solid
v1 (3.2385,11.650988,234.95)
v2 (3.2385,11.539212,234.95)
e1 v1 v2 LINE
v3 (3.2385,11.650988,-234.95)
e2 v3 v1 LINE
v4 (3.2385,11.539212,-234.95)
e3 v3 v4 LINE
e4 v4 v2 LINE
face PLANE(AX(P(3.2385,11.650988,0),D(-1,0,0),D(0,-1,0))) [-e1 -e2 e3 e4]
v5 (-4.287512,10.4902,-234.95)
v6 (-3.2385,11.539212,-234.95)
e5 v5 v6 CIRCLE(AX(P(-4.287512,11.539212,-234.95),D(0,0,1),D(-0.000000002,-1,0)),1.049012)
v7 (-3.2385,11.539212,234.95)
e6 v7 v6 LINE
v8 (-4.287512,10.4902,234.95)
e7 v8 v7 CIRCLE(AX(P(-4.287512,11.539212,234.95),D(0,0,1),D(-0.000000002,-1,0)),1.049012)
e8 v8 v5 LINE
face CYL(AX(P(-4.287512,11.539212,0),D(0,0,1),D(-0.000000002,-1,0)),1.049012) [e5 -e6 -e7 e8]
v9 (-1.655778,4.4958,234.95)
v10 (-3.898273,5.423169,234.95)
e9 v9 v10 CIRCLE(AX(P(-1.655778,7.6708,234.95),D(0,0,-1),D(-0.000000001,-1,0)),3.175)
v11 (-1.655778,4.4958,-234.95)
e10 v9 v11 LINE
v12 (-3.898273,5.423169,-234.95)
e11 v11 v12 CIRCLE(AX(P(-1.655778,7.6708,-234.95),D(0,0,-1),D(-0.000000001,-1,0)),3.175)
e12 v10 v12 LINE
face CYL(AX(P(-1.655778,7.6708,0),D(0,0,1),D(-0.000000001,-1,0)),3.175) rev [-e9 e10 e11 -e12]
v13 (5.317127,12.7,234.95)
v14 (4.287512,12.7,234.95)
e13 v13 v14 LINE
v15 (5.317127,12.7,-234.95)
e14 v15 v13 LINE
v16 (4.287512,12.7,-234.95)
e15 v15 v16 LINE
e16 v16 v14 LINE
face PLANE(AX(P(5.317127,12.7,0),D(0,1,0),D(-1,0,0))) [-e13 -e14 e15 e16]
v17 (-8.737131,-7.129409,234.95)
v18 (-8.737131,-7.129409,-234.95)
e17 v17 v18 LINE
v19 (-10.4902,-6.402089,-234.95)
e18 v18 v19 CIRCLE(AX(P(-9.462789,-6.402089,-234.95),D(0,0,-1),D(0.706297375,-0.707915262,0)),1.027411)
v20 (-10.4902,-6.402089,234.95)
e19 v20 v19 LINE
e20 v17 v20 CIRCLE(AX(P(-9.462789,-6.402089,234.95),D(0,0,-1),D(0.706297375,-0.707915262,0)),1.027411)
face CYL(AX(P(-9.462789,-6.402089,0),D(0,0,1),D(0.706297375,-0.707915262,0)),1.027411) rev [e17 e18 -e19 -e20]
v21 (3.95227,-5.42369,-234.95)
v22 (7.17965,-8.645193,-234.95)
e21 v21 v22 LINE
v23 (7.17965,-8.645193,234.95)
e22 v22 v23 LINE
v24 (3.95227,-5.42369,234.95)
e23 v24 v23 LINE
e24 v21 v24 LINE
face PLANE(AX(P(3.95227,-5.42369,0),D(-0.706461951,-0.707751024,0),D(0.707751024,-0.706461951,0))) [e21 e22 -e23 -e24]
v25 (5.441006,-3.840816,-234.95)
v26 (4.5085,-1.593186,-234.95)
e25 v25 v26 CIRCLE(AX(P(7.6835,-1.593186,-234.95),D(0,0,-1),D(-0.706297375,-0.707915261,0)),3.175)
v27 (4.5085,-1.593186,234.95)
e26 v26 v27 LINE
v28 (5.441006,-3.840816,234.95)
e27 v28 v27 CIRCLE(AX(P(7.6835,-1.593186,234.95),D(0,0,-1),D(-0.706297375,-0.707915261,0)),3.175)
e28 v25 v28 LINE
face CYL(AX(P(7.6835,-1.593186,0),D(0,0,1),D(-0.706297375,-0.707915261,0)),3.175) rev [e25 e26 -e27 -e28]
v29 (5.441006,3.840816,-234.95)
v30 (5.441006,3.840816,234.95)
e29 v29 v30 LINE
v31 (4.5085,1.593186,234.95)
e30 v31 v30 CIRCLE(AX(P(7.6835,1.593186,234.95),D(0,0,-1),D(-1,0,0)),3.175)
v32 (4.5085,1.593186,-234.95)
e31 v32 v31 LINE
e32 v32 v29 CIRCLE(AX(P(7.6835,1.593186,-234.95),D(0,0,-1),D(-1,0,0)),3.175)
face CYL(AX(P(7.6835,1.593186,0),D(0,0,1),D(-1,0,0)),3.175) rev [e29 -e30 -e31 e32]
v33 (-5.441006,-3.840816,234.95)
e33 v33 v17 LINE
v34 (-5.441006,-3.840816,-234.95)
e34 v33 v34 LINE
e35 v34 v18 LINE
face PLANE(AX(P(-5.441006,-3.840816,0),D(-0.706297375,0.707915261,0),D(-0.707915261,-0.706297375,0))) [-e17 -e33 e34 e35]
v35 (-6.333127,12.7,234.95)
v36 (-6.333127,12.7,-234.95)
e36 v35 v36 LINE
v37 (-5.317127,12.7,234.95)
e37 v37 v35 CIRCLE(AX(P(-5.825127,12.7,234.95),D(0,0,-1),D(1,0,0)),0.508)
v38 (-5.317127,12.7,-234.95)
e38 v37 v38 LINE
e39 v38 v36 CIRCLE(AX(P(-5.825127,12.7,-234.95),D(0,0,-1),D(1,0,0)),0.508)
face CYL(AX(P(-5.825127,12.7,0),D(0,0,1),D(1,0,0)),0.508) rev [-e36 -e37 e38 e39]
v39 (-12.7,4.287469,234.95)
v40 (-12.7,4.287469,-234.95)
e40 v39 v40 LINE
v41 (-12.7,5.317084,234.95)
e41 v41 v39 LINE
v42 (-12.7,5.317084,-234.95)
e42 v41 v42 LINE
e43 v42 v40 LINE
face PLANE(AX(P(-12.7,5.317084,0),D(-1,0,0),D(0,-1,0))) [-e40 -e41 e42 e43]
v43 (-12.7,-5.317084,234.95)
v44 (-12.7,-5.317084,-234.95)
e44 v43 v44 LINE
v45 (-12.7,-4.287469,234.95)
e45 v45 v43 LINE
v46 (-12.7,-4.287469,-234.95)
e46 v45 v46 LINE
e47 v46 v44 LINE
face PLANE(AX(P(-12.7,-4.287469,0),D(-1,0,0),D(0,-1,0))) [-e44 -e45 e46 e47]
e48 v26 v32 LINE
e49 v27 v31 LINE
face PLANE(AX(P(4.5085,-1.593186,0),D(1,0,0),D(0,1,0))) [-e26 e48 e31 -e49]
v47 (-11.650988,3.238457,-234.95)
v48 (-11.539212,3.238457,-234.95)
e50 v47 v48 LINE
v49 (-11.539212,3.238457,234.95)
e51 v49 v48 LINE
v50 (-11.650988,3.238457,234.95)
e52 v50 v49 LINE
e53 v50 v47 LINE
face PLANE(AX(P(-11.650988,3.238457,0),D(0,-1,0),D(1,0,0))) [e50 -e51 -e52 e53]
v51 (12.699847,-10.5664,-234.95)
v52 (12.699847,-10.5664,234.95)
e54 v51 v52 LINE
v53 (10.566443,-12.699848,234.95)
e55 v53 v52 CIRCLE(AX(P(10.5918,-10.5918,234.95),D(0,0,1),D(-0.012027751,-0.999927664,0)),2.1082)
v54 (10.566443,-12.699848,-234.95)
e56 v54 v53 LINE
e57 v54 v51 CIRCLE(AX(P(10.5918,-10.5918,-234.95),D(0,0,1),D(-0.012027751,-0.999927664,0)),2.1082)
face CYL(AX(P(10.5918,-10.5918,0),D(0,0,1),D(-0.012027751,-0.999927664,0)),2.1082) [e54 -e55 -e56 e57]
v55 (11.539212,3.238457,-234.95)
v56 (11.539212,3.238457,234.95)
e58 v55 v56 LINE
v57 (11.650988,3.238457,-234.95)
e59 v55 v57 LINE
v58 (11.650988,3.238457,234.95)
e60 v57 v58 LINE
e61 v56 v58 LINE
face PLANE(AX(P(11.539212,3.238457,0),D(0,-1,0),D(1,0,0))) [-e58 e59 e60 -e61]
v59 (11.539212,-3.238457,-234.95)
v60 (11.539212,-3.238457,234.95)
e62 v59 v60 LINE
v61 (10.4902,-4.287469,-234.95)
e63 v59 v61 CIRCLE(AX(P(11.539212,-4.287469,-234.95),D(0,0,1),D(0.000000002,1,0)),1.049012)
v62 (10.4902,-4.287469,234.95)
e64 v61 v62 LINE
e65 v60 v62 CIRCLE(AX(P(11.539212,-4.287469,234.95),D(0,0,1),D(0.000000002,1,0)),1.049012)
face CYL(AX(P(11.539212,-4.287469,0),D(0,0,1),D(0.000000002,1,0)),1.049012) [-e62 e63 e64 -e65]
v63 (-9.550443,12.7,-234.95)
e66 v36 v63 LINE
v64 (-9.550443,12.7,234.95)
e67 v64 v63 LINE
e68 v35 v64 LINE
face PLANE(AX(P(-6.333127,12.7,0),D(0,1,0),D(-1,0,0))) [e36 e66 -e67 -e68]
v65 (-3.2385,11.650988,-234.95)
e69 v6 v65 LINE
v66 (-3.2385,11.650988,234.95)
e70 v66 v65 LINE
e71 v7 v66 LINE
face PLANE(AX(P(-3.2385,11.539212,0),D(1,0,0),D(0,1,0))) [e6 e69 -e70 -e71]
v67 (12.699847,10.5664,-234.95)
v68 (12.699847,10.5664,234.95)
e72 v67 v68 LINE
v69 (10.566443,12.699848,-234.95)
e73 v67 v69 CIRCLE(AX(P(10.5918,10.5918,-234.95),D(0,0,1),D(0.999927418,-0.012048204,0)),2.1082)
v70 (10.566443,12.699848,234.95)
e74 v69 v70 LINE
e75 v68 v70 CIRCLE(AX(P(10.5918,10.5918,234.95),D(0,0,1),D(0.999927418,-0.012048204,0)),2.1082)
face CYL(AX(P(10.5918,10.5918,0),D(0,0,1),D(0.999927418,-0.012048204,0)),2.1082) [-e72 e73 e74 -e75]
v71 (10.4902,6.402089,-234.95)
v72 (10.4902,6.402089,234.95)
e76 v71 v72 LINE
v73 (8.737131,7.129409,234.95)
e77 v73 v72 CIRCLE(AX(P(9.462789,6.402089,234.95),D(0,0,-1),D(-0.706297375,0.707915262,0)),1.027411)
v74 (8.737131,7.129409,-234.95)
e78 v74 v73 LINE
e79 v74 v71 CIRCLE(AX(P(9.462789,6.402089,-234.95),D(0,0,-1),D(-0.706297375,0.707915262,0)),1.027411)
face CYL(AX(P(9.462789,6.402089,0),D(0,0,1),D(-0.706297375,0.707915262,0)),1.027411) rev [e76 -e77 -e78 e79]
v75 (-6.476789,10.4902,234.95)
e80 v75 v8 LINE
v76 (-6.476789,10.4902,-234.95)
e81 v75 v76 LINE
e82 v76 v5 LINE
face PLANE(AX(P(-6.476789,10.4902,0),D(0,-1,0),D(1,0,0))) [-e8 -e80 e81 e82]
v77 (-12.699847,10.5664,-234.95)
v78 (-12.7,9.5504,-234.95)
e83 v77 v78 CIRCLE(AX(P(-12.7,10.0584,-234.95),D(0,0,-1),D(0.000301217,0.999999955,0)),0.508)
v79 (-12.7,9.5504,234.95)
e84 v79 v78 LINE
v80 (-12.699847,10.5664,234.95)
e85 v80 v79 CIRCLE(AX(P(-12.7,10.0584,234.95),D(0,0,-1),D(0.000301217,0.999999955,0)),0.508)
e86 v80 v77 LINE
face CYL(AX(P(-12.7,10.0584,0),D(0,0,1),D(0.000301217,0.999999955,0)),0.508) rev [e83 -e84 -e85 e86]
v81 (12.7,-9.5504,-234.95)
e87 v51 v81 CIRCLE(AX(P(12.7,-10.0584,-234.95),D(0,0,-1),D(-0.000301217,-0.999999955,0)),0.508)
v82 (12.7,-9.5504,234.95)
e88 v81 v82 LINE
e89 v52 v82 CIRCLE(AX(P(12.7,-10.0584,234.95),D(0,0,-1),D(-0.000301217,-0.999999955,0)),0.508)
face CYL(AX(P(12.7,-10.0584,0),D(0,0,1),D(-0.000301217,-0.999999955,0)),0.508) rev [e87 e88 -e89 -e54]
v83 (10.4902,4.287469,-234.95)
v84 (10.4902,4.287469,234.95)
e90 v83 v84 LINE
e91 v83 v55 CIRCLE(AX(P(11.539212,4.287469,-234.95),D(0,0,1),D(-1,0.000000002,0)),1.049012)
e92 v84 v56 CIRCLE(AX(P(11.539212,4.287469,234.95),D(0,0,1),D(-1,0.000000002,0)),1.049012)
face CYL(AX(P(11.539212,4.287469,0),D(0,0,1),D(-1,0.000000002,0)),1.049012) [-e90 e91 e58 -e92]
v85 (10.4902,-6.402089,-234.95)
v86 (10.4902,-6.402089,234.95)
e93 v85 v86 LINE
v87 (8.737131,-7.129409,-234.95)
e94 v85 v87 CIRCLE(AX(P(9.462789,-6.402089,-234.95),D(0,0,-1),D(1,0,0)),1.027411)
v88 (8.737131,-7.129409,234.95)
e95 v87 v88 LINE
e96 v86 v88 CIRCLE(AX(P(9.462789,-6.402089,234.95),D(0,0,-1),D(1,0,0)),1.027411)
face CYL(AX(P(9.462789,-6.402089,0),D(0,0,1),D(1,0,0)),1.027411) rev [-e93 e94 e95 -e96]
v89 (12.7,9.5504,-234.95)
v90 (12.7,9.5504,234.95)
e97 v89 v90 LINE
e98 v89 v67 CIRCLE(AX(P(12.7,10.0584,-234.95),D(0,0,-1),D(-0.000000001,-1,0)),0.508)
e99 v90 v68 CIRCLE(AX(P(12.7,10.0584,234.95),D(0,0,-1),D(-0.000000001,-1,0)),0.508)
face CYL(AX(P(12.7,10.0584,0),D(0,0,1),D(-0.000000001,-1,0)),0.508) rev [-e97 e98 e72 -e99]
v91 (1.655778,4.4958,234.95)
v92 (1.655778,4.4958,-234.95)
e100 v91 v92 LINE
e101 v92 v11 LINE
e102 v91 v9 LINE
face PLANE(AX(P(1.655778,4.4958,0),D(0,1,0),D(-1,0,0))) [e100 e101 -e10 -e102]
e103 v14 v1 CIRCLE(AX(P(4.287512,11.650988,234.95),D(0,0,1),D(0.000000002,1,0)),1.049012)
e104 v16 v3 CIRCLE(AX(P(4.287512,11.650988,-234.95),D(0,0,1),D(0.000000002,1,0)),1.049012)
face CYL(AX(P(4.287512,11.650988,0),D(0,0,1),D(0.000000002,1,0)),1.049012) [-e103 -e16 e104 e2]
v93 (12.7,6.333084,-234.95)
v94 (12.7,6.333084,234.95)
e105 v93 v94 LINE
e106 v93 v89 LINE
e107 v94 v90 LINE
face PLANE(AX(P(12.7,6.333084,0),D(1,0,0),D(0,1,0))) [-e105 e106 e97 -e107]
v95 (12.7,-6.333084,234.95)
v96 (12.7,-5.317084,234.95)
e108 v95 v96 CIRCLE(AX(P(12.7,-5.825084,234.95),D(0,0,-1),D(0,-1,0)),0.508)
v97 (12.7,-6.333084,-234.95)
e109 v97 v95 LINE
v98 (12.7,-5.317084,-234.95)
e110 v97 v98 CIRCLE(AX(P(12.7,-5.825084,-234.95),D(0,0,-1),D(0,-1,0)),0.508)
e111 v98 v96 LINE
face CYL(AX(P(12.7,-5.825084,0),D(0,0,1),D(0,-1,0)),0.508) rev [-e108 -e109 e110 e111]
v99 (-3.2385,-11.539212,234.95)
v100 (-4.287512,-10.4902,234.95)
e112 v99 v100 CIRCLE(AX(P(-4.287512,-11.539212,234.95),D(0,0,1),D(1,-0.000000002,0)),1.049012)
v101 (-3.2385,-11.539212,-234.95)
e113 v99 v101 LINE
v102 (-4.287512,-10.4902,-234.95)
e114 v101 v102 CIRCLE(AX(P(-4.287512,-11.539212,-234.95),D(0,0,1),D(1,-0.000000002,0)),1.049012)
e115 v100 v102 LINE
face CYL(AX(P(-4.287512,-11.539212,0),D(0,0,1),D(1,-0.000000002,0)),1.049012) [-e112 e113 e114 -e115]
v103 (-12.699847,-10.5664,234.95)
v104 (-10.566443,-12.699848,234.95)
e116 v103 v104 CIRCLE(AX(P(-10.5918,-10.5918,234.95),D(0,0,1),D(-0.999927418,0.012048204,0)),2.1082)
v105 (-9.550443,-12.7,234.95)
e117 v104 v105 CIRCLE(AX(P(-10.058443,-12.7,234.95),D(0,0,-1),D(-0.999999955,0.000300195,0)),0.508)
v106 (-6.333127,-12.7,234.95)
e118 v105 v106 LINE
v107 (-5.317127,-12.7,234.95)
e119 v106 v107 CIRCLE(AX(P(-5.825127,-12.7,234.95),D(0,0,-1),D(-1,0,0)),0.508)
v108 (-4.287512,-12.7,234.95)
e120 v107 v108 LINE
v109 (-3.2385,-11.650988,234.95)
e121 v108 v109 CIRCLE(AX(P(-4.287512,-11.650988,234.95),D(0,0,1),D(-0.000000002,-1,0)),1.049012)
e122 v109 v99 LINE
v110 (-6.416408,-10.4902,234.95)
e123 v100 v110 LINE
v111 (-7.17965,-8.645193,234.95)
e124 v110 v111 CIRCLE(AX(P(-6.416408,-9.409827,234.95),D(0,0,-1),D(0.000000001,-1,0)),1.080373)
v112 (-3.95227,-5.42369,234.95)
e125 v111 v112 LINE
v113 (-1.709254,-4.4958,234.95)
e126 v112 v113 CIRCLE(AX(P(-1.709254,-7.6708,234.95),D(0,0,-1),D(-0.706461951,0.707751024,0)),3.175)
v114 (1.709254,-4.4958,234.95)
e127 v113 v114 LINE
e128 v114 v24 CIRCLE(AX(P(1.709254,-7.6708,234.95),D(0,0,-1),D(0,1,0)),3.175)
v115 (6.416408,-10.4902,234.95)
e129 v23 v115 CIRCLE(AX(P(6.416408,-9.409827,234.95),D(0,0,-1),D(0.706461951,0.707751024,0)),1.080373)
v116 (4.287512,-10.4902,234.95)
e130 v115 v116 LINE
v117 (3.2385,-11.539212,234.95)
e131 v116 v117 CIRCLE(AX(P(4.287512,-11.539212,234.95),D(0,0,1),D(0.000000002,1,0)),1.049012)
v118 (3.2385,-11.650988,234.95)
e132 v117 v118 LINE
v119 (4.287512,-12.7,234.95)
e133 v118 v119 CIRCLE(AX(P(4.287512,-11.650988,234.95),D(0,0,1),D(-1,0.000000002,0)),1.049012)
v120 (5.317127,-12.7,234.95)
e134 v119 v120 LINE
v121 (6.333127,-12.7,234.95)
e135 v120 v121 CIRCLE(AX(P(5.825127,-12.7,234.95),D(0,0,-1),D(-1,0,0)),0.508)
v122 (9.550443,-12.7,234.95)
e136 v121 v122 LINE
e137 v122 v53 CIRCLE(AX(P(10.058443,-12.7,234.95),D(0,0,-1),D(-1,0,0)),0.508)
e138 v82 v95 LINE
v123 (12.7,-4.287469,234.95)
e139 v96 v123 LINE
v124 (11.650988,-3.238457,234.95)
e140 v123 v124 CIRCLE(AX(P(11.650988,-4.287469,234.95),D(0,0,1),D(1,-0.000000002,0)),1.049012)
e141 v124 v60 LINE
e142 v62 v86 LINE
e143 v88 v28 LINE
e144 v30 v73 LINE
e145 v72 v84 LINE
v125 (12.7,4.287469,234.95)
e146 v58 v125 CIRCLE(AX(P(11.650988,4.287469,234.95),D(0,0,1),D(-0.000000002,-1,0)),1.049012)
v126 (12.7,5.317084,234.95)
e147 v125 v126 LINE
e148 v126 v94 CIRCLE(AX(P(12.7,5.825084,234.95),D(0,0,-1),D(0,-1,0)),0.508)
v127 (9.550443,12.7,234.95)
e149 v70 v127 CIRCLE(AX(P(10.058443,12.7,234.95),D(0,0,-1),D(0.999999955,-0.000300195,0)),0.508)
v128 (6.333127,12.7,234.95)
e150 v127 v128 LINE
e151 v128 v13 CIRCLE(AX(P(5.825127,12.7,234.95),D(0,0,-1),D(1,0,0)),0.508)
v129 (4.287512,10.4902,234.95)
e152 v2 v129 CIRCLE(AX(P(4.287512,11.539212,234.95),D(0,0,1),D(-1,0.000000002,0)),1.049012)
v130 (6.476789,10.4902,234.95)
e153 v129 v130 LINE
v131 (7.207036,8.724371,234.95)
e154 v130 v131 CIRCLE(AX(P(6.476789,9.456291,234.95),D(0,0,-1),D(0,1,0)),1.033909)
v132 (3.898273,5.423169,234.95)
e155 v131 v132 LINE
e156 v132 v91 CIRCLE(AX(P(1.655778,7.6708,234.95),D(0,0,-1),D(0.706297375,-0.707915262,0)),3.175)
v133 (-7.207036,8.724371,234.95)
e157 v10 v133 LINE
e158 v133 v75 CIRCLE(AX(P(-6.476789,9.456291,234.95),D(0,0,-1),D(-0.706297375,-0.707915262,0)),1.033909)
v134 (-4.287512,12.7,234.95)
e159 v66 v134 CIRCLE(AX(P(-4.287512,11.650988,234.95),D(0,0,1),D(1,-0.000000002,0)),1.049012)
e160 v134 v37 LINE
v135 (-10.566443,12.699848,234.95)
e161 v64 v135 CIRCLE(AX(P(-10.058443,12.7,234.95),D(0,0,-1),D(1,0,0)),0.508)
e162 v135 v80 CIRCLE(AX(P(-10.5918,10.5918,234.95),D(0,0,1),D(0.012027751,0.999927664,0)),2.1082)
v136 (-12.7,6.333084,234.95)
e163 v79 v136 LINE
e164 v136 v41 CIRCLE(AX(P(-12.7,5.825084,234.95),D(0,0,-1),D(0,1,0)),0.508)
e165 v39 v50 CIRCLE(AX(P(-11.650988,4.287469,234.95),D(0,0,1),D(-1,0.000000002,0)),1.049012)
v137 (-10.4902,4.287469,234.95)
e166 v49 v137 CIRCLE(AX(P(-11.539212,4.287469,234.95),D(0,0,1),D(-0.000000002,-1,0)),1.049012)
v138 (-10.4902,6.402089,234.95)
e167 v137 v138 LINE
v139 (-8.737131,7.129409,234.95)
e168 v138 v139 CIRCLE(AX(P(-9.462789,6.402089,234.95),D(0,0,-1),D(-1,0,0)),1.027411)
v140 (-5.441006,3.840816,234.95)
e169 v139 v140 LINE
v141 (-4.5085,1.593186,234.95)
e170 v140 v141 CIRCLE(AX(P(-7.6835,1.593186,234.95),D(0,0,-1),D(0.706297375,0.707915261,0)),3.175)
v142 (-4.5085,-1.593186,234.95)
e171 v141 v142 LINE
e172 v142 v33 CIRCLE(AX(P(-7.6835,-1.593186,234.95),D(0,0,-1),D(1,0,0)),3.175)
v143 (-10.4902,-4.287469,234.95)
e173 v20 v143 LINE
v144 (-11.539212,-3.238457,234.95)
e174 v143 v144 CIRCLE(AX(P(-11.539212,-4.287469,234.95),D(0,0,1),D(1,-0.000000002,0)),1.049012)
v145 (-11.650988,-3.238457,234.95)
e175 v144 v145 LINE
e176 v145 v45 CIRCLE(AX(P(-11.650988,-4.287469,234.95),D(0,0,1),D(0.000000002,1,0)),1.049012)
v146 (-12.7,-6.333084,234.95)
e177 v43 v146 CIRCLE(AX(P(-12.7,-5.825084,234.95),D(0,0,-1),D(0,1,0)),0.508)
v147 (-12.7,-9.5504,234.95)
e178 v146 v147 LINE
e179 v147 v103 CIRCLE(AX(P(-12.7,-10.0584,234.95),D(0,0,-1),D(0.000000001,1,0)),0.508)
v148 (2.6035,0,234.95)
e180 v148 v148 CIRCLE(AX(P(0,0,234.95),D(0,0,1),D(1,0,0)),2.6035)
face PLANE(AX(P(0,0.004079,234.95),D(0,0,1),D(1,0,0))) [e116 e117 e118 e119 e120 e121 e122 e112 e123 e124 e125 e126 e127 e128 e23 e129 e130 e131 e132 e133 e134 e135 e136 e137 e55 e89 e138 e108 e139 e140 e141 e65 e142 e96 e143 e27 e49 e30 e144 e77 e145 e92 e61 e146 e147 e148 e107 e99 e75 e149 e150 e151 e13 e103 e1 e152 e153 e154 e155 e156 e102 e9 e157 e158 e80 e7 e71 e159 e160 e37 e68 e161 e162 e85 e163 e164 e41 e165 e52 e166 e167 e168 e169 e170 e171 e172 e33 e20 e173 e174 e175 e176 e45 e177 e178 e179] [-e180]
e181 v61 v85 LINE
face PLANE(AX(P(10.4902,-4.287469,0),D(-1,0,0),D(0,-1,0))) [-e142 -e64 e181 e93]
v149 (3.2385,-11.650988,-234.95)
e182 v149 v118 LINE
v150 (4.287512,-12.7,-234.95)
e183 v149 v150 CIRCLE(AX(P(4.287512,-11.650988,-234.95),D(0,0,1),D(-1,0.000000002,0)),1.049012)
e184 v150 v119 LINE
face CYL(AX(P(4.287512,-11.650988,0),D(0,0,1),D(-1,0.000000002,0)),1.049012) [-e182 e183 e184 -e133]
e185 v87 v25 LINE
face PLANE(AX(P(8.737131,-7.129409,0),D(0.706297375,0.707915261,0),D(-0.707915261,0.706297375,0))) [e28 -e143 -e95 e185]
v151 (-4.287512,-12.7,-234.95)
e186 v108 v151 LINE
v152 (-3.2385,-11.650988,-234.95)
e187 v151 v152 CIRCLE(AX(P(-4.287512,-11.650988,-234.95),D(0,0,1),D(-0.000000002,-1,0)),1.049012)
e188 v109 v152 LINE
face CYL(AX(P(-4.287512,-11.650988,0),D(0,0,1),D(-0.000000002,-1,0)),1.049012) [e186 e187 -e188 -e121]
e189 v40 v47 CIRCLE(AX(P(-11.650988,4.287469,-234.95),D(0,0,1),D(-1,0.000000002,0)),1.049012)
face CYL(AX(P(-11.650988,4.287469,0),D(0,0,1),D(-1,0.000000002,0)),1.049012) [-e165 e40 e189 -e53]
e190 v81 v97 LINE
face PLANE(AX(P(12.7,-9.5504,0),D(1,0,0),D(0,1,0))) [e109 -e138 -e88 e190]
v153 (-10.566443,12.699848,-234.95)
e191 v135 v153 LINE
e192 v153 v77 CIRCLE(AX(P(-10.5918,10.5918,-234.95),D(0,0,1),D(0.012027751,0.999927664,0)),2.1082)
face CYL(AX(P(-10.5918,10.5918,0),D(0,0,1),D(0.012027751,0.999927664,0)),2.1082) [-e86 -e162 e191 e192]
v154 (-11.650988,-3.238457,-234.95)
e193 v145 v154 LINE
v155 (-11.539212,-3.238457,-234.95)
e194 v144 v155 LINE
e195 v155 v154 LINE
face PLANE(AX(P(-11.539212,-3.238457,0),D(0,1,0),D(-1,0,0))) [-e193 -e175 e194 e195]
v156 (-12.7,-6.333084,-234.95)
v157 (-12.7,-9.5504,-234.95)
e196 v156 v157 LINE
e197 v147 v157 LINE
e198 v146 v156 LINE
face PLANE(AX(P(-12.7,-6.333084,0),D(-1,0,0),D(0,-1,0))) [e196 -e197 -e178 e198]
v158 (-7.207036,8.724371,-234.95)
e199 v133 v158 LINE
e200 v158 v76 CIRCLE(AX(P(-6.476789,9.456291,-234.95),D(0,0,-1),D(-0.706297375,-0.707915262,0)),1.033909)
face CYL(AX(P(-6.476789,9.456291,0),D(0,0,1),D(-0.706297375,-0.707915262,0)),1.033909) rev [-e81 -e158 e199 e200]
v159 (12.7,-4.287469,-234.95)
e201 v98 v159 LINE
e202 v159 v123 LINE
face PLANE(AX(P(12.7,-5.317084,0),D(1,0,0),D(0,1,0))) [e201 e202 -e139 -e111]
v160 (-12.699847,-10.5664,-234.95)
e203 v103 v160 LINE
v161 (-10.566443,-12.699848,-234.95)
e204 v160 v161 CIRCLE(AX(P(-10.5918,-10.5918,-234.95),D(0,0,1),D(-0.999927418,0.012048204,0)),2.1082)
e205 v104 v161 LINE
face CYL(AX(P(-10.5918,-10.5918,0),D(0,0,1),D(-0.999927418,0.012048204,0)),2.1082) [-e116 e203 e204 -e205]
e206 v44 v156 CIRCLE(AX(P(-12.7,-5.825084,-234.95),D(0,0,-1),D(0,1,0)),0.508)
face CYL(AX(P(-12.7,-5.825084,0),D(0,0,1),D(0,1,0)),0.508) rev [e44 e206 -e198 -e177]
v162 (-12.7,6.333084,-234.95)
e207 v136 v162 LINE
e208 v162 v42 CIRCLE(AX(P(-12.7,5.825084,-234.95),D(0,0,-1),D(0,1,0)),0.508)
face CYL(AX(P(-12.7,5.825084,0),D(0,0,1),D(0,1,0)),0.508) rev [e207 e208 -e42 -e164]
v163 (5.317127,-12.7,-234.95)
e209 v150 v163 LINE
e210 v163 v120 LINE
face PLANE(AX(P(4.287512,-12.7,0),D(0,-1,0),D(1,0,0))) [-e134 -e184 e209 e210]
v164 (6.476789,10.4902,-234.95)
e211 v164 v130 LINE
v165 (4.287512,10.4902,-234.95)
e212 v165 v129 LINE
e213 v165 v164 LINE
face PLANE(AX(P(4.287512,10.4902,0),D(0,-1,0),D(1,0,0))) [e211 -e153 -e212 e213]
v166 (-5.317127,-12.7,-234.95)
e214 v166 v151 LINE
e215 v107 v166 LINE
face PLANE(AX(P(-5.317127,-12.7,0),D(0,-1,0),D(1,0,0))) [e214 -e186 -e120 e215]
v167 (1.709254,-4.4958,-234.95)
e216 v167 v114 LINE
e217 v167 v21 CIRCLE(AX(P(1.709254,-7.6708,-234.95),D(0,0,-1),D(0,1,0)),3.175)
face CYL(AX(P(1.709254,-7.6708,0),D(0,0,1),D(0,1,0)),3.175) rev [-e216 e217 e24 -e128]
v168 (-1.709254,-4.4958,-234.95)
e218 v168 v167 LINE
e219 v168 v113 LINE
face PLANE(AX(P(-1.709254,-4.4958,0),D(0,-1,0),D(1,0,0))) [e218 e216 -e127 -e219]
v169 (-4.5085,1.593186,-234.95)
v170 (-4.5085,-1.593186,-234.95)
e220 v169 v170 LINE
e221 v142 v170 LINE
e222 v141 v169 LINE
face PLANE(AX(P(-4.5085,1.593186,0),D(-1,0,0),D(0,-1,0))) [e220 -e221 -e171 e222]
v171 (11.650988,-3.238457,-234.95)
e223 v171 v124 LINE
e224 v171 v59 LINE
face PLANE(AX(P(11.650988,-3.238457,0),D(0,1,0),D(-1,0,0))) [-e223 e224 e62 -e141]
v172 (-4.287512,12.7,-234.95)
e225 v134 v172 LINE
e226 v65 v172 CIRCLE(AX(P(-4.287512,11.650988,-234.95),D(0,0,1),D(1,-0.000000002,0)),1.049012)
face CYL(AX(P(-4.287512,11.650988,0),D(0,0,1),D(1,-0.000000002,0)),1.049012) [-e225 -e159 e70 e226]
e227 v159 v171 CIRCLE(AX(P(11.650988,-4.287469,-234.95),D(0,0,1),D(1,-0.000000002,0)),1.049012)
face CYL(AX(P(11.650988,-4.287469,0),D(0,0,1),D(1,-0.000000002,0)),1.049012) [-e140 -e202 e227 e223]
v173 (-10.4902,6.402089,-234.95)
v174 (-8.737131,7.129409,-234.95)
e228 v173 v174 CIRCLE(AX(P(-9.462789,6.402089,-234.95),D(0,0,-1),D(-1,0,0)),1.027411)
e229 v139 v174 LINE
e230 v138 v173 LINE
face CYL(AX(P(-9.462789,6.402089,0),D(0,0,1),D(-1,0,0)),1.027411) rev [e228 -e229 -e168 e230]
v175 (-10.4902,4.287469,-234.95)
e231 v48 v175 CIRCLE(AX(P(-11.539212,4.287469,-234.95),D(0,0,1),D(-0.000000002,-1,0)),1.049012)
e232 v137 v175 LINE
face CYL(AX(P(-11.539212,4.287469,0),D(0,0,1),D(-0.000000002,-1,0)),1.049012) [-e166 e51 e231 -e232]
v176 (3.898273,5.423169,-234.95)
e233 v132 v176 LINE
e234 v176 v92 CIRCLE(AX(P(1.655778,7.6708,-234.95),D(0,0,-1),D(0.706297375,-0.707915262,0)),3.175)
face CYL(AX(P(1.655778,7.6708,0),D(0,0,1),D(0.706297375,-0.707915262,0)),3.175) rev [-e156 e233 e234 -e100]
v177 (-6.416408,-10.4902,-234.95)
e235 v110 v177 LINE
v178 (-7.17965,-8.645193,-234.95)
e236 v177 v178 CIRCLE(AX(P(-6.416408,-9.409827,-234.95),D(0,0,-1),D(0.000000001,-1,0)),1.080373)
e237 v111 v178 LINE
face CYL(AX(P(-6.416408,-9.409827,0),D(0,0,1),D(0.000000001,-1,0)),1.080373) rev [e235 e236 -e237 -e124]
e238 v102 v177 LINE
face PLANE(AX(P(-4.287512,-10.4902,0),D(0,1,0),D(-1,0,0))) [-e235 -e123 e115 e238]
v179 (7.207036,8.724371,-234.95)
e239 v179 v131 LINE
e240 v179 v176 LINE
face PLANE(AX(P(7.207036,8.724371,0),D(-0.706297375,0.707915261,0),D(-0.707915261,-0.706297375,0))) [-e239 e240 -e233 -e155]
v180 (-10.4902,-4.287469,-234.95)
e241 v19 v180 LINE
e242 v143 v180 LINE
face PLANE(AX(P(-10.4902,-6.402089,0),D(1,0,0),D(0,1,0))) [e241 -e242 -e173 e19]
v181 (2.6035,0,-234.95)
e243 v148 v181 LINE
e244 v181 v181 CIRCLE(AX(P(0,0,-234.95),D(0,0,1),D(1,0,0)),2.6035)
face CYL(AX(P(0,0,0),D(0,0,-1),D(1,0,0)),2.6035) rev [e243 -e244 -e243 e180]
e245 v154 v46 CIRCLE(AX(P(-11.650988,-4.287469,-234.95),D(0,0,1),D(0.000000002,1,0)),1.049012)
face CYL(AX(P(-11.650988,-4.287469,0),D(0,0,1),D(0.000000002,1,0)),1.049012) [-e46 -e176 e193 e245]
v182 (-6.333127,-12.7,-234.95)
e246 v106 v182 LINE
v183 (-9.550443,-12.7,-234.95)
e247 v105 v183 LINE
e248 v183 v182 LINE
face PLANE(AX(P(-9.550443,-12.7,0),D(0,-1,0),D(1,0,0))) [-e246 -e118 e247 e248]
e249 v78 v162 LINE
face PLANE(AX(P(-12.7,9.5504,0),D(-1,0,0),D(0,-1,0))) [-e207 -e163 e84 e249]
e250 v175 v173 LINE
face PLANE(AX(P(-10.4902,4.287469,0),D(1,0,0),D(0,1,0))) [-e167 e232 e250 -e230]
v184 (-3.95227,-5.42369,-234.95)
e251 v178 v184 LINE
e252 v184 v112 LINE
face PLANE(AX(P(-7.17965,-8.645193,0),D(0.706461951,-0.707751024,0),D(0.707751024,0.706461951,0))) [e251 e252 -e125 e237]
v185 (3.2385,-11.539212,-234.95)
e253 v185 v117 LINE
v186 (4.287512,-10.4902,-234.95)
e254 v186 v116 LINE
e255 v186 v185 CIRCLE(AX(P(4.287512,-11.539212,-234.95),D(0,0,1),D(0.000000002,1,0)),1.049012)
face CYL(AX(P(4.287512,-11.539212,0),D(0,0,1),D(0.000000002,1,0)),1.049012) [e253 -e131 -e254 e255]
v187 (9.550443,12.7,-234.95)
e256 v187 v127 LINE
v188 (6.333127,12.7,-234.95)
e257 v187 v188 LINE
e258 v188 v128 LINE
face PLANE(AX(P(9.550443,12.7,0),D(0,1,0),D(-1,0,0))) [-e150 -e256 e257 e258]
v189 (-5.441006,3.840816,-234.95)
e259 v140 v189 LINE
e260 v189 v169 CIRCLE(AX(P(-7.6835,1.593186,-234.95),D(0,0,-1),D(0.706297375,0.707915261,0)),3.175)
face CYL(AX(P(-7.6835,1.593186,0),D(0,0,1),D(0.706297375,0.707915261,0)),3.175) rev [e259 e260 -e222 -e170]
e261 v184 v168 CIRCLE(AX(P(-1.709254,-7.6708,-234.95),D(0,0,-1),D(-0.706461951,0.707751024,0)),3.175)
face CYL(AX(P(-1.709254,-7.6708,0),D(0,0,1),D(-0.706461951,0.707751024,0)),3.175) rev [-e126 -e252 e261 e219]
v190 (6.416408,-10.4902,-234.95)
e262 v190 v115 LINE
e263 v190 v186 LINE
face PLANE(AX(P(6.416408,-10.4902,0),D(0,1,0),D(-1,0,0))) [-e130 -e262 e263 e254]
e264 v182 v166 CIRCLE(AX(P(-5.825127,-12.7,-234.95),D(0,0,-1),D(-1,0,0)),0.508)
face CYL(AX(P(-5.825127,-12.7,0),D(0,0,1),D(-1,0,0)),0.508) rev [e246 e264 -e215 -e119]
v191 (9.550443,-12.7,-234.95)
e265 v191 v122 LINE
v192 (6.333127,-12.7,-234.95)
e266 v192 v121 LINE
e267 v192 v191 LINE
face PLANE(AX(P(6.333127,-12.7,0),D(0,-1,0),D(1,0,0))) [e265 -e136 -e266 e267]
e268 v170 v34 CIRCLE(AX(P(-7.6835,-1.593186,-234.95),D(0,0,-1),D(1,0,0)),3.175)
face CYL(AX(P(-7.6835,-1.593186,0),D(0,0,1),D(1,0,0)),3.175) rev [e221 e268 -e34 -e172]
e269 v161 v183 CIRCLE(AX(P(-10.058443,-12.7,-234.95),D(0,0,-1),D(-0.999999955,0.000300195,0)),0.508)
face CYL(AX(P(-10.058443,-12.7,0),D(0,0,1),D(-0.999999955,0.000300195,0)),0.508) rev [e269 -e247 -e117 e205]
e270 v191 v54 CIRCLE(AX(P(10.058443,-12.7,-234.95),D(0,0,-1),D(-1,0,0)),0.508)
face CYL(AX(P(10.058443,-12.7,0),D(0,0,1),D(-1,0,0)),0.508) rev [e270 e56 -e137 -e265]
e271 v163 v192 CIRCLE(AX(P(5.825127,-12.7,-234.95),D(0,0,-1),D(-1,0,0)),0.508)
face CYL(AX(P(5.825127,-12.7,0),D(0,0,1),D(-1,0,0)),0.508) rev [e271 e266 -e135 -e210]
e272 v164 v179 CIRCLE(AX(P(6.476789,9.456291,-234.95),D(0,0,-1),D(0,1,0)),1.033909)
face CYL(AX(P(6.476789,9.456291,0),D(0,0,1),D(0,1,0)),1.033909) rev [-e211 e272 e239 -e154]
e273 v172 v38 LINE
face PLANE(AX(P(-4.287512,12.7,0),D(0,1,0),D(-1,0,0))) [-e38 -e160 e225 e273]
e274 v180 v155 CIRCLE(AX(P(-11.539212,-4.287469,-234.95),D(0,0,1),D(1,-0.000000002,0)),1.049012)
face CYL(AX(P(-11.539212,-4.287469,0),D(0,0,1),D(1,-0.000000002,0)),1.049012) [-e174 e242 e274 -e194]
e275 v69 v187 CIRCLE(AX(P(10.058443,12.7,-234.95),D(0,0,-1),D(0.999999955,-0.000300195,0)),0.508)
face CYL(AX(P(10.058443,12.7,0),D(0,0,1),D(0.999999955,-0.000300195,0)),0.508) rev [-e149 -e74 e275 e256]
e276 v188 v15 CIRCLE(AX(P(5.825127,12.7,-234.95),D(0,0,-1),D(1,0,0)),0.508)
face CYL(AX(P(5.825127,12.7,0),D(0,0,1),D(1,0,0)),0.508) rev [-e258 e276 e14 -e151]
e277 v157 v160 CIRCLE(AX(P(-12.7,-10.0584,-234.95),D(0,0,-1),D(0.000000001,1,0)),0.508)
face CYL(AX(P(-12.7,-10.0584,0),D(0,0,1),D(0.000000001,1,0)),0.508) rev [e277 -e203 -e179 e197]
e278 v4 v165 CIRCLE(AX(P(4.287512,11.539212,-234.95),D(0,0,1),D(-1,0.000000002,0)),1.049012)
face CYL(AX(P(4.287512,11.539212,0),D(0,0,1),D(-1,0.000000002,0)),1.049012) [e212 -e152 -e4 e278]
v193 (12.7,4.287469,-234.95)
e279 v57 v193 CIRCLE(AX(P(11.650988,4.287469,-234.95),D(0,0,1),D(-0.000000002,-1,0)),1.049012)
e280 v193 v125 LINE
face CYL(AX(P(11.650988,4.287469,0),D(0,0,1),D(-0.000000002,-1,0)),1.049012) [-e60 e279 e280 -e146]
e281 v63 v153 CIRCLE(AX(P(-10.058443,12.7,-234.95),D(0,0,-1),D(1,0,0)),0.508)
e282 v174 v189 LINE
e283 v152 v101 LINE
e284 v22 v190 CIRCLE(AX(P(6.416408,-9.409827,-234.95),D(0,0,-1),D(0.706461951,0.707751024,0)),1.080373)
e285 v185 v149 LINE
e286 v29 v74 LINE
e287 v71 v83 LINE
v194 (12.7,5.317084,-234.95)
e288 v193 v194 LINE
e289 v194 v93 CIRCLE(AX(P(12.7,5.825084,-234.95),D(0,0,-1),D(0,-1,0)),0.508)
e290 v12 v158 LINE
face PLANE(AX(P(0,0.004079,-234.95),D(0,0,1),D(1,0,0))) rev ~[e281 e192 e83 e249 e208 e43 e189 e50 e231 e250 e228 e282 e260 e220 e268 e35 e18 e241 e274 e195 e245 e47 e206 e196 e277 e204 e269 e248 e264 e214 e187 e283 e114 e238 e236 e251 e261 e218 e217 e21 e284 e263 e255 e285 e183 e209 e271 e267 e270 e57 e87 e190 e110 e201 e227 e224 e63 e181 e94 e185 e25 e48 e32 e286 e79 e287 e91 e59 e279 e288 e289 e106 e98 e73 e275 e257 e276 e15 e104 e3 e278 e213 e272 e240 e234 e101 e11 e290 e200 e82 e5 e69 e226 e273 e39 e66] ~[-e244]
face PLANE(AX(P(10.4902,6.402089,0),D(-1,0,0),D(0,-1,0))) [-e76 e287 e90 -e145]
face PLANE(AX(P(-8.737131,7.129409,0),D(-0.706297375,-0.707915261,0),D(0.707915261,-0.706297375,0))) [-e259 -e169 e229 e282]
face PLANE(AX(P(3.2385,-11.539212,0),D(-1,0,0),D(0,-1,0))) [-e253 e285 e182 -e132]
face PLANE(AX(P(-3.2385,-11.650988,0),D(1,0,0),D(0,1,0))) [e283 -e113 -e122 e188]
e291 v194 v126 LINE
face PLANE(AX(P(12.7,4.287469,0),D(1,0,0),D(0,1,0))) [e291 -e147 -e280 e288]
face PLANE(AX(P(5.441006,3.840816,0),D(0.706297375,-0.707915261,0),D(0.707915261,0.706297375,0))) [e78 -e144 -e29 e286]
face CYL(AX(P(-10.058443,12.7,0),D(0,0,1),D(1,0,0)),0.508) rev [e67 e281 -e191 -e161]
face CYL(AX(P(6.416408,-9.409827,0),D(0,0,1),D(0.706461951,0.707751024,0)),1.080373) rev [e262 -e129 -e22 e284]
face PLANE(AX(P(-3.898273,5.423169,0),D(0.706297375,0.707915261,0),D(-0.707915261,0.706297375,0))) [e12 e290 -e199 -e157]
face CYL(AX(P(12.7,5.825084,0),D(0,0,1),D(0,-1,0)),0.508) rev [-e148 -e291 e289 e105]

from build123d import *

# Parameters (mm, degrees)
SKETCH1_R           = 2.6035
BOSS_EXTRUDE1_DEPTH = 234.95


with BuildPart() as part:
    # Sketch1 → Boss-Extrude1 (new, symmetric)
    with BuildSketch(Plane.XY):
        with BuildLine():
            Line((-7.179650497, -8.645192506), (-3.952270251, -5.423690499))
            ThreePointArc((-3.952270251, -5.423690499), (-2.922936451, -4.736929036), (-1.709253557, -4.4958))
            Line((-1.709253557, -4.4958), (1.709253557, -4.4958))
            ThreePointArc((1.709253557, -4.4958), (2.922936451, -4.736929036), (3.952270251, -5.423690499))
            Line((3.952270251, -5.423690499), (7.179650497, -8.645192506))
            ThreePointArc((7.179650497, -8.645192506), (7.41473083, -9.822813117), (6.416408329, -10.4902))
            Line((6.416408329, -10.4902), (4.287512407, -10.4902))
            ThreePointArc((4.287512407, -10.4902), (3.54574862, -10.79744862), (3.2385, -11.539212407))
            Line((3.2385, -11.539212407), (3.2385, -11.650987593))
            ThreePointArc((3.2385, -11.650987593), (3.54574862, -12.39275138), (4.287512407, -12.7))
            Line((4.287512407, -12.7), (5.317126718, -12.7))
            ThreePointArc((5.317126718, -12.7), (5.825126718, -12.192), (6.333126718, -12.7))
            Line((6.333126718, -12.7), (9.550443118, -12.7))
            ThreePointArc((9.550443118, -12.7), (10.058366869, -12.192000006), (10.566443095, -12.699847501))
            ThreePointArc((10.566443095, -12.699847501), (12.082537762, -12.08250727), (12.699846982, -10.566399977))
            ThreePointArc((12.699846982, -10.566399977), (12.192000006, -10.058323491), (12.7, -9.5504))
            Line((12.7, -9.5504), (12.7, -6.3330836))
            ThreePointArc((12.7, -6.3330836), (12.192, -5.8250836), (12.7, -5.3170836))
            Line((12.7, -5.3170836), (12.7, -4.287469289))
            ThreePointArc((12.7, -4.287469289), (12.39275138, -3.545705502), (11.650987593, -3.238456882))
            Line((11.650987593, -3.238456882), (11.539212407, -3.238456882))
            ThreePointArc((11.539212407, -3.238456882), (10.79744862, -3.545705502), (10.4902, -4.287469289))
            Line((10.4902, -4.287469289), (10.4902, -6.402089023))
            ThreePointArc((10.4902, -6.402089023), (9.856505071, -7.351067942), (8.737131347, -7.129408934))
            Line((8.737131347, -7.129408934), (5.441005833, -3.840816462))
            ThreePointArc((5.441005833, -3.840816462), (4.750877967, -2.809883091), (4.5085, -1.593185507))
            Line((4.5085, -1.593185507), (4.5085, 1.593185507))
            ThreePointArc((4.5085, 1.593185507), (4.750877967, 2.809883091), (5.441005833, 3.840816462))
            Line((5.441005833, 3.840816462), (8.737131347, 7.129408934))
            ThreePointArc((8.737131347, 7.129408934), (9.856505071, 7.351067942), (10.4902, 6.402089023))
            Line((10.4902, 6.402089023), (10.4902, 4.287469289))
            ThreePointArc((10.4902, 4.287469289), (10.79744862, 3.545705502), (11.539212407, 3.238456882))
            Line((11.539212407, 3.238456882), (11.650987593, 3.238456882))
            ThreePointArc((11.650987593, 3.238456882), (12.39275138, 3.545705502), (12.7, 4.287469289))
            Line((12.7, 4.287469289), (12.7, 5.3170836))
            ThreePointArc((12.7, 5.3170836), (12.192, 5.8250836), (12.7, 6.3330836))
            Line((12.7, 6.3330836), (12.7, 9.5504))
            ThreePointArc((12.7, 9.5504), (12.192000006, 10.058323491), (12.699846982, 10.566399977))
            ThreePointArc((12.699846982, 10.566399977), (12.082537762, 12.08250727), (10.566443095, 12.699847501))
            ThreePointArc((10.566443095, 12.699847501), (10.058366869, 12.192000006), (9.550443118, 12.7))
            Line((9.550443118, 12.7), (6.333126718, 12.7))
            ThreePointArc((6.333126718, 12.7), (5.825126718, 12.192), (5.317126718, 12.7))
            Line((5.317126718, 12.7), (4.287512407, 12.7))
            ThreePointArc((4.287512407, 12.7), (3.54574862, 12.39275138), (3.2385, 11.650987593))
            Line((3.2385, 11.650987593), (3.2385, 11.539212407))
            ThreePointArc((3.2385, 11.539212407), (3.54574862, 10.79744862), (4.287512407, 10.4902))
            Line((4.287512407, 10.4902), (6.476788598, 10.4902))
            ThreePointArc((6.476788598, 10.4902), (7.432222385, 9.85140422), (7.207036008, 8.724370562))
            Line((7.207036008, 8.724370562), (3.898272566, 5.423169045))
            ThreePointArc((3.898272566, 5.423169045), (2.869120213, 4.736787962), (1.655778399, 4.4958))
            Line((1.655778399, 4.4958), (-1.655778399, 4.4958))
            ThreePointArc((-1.655778399, 4.4958), (-2.869120213, 4.736787962), (-3.898272566, 5.423169045))
            Line((-3.898272566, 5.423169045), (-7.207036008, 8.724370562))
            ThreePointArc((-7.207036008, 8.724370562), (-7.432222385, 9.85140422), (-6.476788598, 10.4902))
            Line((-6.476788598, 10.4902), (-4.287512407, 10.4902))
            ThreePointArc((-4.287512407, 10.4902), (-3.54574862, 10.79744862), (-3.2385, 11.539212407))
            Line((-3.2385, 11.539212407), (-3.2385, 11.650987593))
            ThreePointArc((-3.2385, 11.650987593), (-3.54574862, 12.39275138), (-4.287512407, 12.7))
            Line((-4.287512407, 12.7), (-5.317126718, 12.7))
            ThreePointArc((-5.317126718, 12.7), (-5.825126718, 12.192), (-6.333126718, 12.7))
            Line((-6.333126718, 12.7), (-9.550443118, 12.7))
            ThreePointArc((-9.550443118, 12.7), (-10.058366869, 12.192000006), (-10.566443095, 12.699847501))
            ThreePointArc((-10.566443095, 12.699847501), (-12.082537762, 12.08250727), (-12.699846982, 10.566399977))
            ThreePointArc((-12.699846982, 10.566399977), (-12.192000006, 10.058323491), (-12.7, 9.5504))
            Line((-12.7, 9.5504), (-12.7, 6.3330836))
            ThreePointArc((-12.7, 6.3330836), (-12.192, 5.8250836), (-12.7, 5.3170836))
            Line((-12.7, 5.3170836), (-12.7, 4.287469289))
            ThreePointArc((-12.7, 4.287469289), (-12.39275138, 3.545705502), (-11.650987593, 3.238456882))
            Line((-11.650987593, 3.238456882), (-11.539212407, 3.238456882))
            ThreePointArc((-11.539212407, 3.238456882), (-10.79744862, 3.545705502), (-10.4902, 4.287469289))
            Line((-10.4902, 4.287469289), (-10.4902, 6.402089023))
            ThreePointArc((-10.4902, 6.402089023), (-9.856505071, 7.351067942), (-8.737131347, 7.129408934))
            Line((-8.737131347, 7.129408934), (-5.441005833, 3.840816462))
            ThreePointArc((-5.441005833, 3.840816462), (-4.750877967, 2.809883091), (-4.5085, 1.593185507))
            Line((-4.5085, 1.593185507), (-4.5085, -1.593185507))
            ThreePointArc((-4.5085, -1.593185507), (-4.750877967, -2.809883091), (-5.441005833, -3.840816462))
            Line((-5.441005833, -3.840816462), (-8.737131347, -7.129408934))
            ThreePointArc((-8.737131347, -7.129408934), (-9.856505071, -7.351067942), (-10.4902, -6.402089023))
            Line((-10.4902, -6.402089023), (-10.4902, -4.287469289))
            ThreePointArc((-10.4902, -4.287469289), (-10.79744862, -3.545705502), (-11.539212407, -3.238456882))
            Line((-11.539212407, -3.238456882), (-11.650987593, -3.238456882))
            ThreePointArc((-11.650987593, -3.238456882), (-12.39275138, -3.545705502), (-12.7, -4.287469289))
            Line((-12.7, -4.287469289), (-12.7, -5.3170836))
            ThreePointArc((-12.7, -5.3170836), (-12.192, -5.8250836), (-12.7, -6.3330836))
            Line((-12.7, -6.3330836), (-12.7, -9.5504))
            ThreePointArc((-12.7, -9.5504), (-12.192000006, -10.058323491), (-12.699846982, -10.566399977))
            ThreePointArc((-12.699846982, -10.566399977), (-12.082537762, -12.08250727), (-10.566443095, -12.699847501))
            ThreePointArc((-10.566443095, -12.699847501), (-10.058366869, -12.192000006), (-9.550443118, -12.7))
            Line((-9.550443118, -12.7), (-6.333126718, -12.7))
            ThreePointArc((-6.333126718, -12.7), (-5.825126718, -12.192), (-5.317126718, -12.7))
            Line((-5.317126718, -12.7), (-4.287512407, -12.7))
            ThreePointArc((-4.287512407, -12.7), (-3.54574862, -12.39275138), (-3.2385, -11.650987593))
            Line((-3.2385, -11.650987593), (-3.2385, -11.539212407))
            ThreePointArc((-3.2385, -11.539212407), (-3.54574862, -10.79744862), (-4.287512407, -10.4902))
            Line((-4.287512407, -10.4902), (-6.416408329, -10.4902))
            ThreePointArc((-6.416408329, -10.4902), (-7.41473083, -9.822813117), (-7.179650497, -8.645192506))
        make_face()
        Circle(SKETCH1_R, mode=Mode.SUBTRACT)
    extrude(amount=BOSS_EXTRUDE1_DEPTH, both=True)


solid = part.part
